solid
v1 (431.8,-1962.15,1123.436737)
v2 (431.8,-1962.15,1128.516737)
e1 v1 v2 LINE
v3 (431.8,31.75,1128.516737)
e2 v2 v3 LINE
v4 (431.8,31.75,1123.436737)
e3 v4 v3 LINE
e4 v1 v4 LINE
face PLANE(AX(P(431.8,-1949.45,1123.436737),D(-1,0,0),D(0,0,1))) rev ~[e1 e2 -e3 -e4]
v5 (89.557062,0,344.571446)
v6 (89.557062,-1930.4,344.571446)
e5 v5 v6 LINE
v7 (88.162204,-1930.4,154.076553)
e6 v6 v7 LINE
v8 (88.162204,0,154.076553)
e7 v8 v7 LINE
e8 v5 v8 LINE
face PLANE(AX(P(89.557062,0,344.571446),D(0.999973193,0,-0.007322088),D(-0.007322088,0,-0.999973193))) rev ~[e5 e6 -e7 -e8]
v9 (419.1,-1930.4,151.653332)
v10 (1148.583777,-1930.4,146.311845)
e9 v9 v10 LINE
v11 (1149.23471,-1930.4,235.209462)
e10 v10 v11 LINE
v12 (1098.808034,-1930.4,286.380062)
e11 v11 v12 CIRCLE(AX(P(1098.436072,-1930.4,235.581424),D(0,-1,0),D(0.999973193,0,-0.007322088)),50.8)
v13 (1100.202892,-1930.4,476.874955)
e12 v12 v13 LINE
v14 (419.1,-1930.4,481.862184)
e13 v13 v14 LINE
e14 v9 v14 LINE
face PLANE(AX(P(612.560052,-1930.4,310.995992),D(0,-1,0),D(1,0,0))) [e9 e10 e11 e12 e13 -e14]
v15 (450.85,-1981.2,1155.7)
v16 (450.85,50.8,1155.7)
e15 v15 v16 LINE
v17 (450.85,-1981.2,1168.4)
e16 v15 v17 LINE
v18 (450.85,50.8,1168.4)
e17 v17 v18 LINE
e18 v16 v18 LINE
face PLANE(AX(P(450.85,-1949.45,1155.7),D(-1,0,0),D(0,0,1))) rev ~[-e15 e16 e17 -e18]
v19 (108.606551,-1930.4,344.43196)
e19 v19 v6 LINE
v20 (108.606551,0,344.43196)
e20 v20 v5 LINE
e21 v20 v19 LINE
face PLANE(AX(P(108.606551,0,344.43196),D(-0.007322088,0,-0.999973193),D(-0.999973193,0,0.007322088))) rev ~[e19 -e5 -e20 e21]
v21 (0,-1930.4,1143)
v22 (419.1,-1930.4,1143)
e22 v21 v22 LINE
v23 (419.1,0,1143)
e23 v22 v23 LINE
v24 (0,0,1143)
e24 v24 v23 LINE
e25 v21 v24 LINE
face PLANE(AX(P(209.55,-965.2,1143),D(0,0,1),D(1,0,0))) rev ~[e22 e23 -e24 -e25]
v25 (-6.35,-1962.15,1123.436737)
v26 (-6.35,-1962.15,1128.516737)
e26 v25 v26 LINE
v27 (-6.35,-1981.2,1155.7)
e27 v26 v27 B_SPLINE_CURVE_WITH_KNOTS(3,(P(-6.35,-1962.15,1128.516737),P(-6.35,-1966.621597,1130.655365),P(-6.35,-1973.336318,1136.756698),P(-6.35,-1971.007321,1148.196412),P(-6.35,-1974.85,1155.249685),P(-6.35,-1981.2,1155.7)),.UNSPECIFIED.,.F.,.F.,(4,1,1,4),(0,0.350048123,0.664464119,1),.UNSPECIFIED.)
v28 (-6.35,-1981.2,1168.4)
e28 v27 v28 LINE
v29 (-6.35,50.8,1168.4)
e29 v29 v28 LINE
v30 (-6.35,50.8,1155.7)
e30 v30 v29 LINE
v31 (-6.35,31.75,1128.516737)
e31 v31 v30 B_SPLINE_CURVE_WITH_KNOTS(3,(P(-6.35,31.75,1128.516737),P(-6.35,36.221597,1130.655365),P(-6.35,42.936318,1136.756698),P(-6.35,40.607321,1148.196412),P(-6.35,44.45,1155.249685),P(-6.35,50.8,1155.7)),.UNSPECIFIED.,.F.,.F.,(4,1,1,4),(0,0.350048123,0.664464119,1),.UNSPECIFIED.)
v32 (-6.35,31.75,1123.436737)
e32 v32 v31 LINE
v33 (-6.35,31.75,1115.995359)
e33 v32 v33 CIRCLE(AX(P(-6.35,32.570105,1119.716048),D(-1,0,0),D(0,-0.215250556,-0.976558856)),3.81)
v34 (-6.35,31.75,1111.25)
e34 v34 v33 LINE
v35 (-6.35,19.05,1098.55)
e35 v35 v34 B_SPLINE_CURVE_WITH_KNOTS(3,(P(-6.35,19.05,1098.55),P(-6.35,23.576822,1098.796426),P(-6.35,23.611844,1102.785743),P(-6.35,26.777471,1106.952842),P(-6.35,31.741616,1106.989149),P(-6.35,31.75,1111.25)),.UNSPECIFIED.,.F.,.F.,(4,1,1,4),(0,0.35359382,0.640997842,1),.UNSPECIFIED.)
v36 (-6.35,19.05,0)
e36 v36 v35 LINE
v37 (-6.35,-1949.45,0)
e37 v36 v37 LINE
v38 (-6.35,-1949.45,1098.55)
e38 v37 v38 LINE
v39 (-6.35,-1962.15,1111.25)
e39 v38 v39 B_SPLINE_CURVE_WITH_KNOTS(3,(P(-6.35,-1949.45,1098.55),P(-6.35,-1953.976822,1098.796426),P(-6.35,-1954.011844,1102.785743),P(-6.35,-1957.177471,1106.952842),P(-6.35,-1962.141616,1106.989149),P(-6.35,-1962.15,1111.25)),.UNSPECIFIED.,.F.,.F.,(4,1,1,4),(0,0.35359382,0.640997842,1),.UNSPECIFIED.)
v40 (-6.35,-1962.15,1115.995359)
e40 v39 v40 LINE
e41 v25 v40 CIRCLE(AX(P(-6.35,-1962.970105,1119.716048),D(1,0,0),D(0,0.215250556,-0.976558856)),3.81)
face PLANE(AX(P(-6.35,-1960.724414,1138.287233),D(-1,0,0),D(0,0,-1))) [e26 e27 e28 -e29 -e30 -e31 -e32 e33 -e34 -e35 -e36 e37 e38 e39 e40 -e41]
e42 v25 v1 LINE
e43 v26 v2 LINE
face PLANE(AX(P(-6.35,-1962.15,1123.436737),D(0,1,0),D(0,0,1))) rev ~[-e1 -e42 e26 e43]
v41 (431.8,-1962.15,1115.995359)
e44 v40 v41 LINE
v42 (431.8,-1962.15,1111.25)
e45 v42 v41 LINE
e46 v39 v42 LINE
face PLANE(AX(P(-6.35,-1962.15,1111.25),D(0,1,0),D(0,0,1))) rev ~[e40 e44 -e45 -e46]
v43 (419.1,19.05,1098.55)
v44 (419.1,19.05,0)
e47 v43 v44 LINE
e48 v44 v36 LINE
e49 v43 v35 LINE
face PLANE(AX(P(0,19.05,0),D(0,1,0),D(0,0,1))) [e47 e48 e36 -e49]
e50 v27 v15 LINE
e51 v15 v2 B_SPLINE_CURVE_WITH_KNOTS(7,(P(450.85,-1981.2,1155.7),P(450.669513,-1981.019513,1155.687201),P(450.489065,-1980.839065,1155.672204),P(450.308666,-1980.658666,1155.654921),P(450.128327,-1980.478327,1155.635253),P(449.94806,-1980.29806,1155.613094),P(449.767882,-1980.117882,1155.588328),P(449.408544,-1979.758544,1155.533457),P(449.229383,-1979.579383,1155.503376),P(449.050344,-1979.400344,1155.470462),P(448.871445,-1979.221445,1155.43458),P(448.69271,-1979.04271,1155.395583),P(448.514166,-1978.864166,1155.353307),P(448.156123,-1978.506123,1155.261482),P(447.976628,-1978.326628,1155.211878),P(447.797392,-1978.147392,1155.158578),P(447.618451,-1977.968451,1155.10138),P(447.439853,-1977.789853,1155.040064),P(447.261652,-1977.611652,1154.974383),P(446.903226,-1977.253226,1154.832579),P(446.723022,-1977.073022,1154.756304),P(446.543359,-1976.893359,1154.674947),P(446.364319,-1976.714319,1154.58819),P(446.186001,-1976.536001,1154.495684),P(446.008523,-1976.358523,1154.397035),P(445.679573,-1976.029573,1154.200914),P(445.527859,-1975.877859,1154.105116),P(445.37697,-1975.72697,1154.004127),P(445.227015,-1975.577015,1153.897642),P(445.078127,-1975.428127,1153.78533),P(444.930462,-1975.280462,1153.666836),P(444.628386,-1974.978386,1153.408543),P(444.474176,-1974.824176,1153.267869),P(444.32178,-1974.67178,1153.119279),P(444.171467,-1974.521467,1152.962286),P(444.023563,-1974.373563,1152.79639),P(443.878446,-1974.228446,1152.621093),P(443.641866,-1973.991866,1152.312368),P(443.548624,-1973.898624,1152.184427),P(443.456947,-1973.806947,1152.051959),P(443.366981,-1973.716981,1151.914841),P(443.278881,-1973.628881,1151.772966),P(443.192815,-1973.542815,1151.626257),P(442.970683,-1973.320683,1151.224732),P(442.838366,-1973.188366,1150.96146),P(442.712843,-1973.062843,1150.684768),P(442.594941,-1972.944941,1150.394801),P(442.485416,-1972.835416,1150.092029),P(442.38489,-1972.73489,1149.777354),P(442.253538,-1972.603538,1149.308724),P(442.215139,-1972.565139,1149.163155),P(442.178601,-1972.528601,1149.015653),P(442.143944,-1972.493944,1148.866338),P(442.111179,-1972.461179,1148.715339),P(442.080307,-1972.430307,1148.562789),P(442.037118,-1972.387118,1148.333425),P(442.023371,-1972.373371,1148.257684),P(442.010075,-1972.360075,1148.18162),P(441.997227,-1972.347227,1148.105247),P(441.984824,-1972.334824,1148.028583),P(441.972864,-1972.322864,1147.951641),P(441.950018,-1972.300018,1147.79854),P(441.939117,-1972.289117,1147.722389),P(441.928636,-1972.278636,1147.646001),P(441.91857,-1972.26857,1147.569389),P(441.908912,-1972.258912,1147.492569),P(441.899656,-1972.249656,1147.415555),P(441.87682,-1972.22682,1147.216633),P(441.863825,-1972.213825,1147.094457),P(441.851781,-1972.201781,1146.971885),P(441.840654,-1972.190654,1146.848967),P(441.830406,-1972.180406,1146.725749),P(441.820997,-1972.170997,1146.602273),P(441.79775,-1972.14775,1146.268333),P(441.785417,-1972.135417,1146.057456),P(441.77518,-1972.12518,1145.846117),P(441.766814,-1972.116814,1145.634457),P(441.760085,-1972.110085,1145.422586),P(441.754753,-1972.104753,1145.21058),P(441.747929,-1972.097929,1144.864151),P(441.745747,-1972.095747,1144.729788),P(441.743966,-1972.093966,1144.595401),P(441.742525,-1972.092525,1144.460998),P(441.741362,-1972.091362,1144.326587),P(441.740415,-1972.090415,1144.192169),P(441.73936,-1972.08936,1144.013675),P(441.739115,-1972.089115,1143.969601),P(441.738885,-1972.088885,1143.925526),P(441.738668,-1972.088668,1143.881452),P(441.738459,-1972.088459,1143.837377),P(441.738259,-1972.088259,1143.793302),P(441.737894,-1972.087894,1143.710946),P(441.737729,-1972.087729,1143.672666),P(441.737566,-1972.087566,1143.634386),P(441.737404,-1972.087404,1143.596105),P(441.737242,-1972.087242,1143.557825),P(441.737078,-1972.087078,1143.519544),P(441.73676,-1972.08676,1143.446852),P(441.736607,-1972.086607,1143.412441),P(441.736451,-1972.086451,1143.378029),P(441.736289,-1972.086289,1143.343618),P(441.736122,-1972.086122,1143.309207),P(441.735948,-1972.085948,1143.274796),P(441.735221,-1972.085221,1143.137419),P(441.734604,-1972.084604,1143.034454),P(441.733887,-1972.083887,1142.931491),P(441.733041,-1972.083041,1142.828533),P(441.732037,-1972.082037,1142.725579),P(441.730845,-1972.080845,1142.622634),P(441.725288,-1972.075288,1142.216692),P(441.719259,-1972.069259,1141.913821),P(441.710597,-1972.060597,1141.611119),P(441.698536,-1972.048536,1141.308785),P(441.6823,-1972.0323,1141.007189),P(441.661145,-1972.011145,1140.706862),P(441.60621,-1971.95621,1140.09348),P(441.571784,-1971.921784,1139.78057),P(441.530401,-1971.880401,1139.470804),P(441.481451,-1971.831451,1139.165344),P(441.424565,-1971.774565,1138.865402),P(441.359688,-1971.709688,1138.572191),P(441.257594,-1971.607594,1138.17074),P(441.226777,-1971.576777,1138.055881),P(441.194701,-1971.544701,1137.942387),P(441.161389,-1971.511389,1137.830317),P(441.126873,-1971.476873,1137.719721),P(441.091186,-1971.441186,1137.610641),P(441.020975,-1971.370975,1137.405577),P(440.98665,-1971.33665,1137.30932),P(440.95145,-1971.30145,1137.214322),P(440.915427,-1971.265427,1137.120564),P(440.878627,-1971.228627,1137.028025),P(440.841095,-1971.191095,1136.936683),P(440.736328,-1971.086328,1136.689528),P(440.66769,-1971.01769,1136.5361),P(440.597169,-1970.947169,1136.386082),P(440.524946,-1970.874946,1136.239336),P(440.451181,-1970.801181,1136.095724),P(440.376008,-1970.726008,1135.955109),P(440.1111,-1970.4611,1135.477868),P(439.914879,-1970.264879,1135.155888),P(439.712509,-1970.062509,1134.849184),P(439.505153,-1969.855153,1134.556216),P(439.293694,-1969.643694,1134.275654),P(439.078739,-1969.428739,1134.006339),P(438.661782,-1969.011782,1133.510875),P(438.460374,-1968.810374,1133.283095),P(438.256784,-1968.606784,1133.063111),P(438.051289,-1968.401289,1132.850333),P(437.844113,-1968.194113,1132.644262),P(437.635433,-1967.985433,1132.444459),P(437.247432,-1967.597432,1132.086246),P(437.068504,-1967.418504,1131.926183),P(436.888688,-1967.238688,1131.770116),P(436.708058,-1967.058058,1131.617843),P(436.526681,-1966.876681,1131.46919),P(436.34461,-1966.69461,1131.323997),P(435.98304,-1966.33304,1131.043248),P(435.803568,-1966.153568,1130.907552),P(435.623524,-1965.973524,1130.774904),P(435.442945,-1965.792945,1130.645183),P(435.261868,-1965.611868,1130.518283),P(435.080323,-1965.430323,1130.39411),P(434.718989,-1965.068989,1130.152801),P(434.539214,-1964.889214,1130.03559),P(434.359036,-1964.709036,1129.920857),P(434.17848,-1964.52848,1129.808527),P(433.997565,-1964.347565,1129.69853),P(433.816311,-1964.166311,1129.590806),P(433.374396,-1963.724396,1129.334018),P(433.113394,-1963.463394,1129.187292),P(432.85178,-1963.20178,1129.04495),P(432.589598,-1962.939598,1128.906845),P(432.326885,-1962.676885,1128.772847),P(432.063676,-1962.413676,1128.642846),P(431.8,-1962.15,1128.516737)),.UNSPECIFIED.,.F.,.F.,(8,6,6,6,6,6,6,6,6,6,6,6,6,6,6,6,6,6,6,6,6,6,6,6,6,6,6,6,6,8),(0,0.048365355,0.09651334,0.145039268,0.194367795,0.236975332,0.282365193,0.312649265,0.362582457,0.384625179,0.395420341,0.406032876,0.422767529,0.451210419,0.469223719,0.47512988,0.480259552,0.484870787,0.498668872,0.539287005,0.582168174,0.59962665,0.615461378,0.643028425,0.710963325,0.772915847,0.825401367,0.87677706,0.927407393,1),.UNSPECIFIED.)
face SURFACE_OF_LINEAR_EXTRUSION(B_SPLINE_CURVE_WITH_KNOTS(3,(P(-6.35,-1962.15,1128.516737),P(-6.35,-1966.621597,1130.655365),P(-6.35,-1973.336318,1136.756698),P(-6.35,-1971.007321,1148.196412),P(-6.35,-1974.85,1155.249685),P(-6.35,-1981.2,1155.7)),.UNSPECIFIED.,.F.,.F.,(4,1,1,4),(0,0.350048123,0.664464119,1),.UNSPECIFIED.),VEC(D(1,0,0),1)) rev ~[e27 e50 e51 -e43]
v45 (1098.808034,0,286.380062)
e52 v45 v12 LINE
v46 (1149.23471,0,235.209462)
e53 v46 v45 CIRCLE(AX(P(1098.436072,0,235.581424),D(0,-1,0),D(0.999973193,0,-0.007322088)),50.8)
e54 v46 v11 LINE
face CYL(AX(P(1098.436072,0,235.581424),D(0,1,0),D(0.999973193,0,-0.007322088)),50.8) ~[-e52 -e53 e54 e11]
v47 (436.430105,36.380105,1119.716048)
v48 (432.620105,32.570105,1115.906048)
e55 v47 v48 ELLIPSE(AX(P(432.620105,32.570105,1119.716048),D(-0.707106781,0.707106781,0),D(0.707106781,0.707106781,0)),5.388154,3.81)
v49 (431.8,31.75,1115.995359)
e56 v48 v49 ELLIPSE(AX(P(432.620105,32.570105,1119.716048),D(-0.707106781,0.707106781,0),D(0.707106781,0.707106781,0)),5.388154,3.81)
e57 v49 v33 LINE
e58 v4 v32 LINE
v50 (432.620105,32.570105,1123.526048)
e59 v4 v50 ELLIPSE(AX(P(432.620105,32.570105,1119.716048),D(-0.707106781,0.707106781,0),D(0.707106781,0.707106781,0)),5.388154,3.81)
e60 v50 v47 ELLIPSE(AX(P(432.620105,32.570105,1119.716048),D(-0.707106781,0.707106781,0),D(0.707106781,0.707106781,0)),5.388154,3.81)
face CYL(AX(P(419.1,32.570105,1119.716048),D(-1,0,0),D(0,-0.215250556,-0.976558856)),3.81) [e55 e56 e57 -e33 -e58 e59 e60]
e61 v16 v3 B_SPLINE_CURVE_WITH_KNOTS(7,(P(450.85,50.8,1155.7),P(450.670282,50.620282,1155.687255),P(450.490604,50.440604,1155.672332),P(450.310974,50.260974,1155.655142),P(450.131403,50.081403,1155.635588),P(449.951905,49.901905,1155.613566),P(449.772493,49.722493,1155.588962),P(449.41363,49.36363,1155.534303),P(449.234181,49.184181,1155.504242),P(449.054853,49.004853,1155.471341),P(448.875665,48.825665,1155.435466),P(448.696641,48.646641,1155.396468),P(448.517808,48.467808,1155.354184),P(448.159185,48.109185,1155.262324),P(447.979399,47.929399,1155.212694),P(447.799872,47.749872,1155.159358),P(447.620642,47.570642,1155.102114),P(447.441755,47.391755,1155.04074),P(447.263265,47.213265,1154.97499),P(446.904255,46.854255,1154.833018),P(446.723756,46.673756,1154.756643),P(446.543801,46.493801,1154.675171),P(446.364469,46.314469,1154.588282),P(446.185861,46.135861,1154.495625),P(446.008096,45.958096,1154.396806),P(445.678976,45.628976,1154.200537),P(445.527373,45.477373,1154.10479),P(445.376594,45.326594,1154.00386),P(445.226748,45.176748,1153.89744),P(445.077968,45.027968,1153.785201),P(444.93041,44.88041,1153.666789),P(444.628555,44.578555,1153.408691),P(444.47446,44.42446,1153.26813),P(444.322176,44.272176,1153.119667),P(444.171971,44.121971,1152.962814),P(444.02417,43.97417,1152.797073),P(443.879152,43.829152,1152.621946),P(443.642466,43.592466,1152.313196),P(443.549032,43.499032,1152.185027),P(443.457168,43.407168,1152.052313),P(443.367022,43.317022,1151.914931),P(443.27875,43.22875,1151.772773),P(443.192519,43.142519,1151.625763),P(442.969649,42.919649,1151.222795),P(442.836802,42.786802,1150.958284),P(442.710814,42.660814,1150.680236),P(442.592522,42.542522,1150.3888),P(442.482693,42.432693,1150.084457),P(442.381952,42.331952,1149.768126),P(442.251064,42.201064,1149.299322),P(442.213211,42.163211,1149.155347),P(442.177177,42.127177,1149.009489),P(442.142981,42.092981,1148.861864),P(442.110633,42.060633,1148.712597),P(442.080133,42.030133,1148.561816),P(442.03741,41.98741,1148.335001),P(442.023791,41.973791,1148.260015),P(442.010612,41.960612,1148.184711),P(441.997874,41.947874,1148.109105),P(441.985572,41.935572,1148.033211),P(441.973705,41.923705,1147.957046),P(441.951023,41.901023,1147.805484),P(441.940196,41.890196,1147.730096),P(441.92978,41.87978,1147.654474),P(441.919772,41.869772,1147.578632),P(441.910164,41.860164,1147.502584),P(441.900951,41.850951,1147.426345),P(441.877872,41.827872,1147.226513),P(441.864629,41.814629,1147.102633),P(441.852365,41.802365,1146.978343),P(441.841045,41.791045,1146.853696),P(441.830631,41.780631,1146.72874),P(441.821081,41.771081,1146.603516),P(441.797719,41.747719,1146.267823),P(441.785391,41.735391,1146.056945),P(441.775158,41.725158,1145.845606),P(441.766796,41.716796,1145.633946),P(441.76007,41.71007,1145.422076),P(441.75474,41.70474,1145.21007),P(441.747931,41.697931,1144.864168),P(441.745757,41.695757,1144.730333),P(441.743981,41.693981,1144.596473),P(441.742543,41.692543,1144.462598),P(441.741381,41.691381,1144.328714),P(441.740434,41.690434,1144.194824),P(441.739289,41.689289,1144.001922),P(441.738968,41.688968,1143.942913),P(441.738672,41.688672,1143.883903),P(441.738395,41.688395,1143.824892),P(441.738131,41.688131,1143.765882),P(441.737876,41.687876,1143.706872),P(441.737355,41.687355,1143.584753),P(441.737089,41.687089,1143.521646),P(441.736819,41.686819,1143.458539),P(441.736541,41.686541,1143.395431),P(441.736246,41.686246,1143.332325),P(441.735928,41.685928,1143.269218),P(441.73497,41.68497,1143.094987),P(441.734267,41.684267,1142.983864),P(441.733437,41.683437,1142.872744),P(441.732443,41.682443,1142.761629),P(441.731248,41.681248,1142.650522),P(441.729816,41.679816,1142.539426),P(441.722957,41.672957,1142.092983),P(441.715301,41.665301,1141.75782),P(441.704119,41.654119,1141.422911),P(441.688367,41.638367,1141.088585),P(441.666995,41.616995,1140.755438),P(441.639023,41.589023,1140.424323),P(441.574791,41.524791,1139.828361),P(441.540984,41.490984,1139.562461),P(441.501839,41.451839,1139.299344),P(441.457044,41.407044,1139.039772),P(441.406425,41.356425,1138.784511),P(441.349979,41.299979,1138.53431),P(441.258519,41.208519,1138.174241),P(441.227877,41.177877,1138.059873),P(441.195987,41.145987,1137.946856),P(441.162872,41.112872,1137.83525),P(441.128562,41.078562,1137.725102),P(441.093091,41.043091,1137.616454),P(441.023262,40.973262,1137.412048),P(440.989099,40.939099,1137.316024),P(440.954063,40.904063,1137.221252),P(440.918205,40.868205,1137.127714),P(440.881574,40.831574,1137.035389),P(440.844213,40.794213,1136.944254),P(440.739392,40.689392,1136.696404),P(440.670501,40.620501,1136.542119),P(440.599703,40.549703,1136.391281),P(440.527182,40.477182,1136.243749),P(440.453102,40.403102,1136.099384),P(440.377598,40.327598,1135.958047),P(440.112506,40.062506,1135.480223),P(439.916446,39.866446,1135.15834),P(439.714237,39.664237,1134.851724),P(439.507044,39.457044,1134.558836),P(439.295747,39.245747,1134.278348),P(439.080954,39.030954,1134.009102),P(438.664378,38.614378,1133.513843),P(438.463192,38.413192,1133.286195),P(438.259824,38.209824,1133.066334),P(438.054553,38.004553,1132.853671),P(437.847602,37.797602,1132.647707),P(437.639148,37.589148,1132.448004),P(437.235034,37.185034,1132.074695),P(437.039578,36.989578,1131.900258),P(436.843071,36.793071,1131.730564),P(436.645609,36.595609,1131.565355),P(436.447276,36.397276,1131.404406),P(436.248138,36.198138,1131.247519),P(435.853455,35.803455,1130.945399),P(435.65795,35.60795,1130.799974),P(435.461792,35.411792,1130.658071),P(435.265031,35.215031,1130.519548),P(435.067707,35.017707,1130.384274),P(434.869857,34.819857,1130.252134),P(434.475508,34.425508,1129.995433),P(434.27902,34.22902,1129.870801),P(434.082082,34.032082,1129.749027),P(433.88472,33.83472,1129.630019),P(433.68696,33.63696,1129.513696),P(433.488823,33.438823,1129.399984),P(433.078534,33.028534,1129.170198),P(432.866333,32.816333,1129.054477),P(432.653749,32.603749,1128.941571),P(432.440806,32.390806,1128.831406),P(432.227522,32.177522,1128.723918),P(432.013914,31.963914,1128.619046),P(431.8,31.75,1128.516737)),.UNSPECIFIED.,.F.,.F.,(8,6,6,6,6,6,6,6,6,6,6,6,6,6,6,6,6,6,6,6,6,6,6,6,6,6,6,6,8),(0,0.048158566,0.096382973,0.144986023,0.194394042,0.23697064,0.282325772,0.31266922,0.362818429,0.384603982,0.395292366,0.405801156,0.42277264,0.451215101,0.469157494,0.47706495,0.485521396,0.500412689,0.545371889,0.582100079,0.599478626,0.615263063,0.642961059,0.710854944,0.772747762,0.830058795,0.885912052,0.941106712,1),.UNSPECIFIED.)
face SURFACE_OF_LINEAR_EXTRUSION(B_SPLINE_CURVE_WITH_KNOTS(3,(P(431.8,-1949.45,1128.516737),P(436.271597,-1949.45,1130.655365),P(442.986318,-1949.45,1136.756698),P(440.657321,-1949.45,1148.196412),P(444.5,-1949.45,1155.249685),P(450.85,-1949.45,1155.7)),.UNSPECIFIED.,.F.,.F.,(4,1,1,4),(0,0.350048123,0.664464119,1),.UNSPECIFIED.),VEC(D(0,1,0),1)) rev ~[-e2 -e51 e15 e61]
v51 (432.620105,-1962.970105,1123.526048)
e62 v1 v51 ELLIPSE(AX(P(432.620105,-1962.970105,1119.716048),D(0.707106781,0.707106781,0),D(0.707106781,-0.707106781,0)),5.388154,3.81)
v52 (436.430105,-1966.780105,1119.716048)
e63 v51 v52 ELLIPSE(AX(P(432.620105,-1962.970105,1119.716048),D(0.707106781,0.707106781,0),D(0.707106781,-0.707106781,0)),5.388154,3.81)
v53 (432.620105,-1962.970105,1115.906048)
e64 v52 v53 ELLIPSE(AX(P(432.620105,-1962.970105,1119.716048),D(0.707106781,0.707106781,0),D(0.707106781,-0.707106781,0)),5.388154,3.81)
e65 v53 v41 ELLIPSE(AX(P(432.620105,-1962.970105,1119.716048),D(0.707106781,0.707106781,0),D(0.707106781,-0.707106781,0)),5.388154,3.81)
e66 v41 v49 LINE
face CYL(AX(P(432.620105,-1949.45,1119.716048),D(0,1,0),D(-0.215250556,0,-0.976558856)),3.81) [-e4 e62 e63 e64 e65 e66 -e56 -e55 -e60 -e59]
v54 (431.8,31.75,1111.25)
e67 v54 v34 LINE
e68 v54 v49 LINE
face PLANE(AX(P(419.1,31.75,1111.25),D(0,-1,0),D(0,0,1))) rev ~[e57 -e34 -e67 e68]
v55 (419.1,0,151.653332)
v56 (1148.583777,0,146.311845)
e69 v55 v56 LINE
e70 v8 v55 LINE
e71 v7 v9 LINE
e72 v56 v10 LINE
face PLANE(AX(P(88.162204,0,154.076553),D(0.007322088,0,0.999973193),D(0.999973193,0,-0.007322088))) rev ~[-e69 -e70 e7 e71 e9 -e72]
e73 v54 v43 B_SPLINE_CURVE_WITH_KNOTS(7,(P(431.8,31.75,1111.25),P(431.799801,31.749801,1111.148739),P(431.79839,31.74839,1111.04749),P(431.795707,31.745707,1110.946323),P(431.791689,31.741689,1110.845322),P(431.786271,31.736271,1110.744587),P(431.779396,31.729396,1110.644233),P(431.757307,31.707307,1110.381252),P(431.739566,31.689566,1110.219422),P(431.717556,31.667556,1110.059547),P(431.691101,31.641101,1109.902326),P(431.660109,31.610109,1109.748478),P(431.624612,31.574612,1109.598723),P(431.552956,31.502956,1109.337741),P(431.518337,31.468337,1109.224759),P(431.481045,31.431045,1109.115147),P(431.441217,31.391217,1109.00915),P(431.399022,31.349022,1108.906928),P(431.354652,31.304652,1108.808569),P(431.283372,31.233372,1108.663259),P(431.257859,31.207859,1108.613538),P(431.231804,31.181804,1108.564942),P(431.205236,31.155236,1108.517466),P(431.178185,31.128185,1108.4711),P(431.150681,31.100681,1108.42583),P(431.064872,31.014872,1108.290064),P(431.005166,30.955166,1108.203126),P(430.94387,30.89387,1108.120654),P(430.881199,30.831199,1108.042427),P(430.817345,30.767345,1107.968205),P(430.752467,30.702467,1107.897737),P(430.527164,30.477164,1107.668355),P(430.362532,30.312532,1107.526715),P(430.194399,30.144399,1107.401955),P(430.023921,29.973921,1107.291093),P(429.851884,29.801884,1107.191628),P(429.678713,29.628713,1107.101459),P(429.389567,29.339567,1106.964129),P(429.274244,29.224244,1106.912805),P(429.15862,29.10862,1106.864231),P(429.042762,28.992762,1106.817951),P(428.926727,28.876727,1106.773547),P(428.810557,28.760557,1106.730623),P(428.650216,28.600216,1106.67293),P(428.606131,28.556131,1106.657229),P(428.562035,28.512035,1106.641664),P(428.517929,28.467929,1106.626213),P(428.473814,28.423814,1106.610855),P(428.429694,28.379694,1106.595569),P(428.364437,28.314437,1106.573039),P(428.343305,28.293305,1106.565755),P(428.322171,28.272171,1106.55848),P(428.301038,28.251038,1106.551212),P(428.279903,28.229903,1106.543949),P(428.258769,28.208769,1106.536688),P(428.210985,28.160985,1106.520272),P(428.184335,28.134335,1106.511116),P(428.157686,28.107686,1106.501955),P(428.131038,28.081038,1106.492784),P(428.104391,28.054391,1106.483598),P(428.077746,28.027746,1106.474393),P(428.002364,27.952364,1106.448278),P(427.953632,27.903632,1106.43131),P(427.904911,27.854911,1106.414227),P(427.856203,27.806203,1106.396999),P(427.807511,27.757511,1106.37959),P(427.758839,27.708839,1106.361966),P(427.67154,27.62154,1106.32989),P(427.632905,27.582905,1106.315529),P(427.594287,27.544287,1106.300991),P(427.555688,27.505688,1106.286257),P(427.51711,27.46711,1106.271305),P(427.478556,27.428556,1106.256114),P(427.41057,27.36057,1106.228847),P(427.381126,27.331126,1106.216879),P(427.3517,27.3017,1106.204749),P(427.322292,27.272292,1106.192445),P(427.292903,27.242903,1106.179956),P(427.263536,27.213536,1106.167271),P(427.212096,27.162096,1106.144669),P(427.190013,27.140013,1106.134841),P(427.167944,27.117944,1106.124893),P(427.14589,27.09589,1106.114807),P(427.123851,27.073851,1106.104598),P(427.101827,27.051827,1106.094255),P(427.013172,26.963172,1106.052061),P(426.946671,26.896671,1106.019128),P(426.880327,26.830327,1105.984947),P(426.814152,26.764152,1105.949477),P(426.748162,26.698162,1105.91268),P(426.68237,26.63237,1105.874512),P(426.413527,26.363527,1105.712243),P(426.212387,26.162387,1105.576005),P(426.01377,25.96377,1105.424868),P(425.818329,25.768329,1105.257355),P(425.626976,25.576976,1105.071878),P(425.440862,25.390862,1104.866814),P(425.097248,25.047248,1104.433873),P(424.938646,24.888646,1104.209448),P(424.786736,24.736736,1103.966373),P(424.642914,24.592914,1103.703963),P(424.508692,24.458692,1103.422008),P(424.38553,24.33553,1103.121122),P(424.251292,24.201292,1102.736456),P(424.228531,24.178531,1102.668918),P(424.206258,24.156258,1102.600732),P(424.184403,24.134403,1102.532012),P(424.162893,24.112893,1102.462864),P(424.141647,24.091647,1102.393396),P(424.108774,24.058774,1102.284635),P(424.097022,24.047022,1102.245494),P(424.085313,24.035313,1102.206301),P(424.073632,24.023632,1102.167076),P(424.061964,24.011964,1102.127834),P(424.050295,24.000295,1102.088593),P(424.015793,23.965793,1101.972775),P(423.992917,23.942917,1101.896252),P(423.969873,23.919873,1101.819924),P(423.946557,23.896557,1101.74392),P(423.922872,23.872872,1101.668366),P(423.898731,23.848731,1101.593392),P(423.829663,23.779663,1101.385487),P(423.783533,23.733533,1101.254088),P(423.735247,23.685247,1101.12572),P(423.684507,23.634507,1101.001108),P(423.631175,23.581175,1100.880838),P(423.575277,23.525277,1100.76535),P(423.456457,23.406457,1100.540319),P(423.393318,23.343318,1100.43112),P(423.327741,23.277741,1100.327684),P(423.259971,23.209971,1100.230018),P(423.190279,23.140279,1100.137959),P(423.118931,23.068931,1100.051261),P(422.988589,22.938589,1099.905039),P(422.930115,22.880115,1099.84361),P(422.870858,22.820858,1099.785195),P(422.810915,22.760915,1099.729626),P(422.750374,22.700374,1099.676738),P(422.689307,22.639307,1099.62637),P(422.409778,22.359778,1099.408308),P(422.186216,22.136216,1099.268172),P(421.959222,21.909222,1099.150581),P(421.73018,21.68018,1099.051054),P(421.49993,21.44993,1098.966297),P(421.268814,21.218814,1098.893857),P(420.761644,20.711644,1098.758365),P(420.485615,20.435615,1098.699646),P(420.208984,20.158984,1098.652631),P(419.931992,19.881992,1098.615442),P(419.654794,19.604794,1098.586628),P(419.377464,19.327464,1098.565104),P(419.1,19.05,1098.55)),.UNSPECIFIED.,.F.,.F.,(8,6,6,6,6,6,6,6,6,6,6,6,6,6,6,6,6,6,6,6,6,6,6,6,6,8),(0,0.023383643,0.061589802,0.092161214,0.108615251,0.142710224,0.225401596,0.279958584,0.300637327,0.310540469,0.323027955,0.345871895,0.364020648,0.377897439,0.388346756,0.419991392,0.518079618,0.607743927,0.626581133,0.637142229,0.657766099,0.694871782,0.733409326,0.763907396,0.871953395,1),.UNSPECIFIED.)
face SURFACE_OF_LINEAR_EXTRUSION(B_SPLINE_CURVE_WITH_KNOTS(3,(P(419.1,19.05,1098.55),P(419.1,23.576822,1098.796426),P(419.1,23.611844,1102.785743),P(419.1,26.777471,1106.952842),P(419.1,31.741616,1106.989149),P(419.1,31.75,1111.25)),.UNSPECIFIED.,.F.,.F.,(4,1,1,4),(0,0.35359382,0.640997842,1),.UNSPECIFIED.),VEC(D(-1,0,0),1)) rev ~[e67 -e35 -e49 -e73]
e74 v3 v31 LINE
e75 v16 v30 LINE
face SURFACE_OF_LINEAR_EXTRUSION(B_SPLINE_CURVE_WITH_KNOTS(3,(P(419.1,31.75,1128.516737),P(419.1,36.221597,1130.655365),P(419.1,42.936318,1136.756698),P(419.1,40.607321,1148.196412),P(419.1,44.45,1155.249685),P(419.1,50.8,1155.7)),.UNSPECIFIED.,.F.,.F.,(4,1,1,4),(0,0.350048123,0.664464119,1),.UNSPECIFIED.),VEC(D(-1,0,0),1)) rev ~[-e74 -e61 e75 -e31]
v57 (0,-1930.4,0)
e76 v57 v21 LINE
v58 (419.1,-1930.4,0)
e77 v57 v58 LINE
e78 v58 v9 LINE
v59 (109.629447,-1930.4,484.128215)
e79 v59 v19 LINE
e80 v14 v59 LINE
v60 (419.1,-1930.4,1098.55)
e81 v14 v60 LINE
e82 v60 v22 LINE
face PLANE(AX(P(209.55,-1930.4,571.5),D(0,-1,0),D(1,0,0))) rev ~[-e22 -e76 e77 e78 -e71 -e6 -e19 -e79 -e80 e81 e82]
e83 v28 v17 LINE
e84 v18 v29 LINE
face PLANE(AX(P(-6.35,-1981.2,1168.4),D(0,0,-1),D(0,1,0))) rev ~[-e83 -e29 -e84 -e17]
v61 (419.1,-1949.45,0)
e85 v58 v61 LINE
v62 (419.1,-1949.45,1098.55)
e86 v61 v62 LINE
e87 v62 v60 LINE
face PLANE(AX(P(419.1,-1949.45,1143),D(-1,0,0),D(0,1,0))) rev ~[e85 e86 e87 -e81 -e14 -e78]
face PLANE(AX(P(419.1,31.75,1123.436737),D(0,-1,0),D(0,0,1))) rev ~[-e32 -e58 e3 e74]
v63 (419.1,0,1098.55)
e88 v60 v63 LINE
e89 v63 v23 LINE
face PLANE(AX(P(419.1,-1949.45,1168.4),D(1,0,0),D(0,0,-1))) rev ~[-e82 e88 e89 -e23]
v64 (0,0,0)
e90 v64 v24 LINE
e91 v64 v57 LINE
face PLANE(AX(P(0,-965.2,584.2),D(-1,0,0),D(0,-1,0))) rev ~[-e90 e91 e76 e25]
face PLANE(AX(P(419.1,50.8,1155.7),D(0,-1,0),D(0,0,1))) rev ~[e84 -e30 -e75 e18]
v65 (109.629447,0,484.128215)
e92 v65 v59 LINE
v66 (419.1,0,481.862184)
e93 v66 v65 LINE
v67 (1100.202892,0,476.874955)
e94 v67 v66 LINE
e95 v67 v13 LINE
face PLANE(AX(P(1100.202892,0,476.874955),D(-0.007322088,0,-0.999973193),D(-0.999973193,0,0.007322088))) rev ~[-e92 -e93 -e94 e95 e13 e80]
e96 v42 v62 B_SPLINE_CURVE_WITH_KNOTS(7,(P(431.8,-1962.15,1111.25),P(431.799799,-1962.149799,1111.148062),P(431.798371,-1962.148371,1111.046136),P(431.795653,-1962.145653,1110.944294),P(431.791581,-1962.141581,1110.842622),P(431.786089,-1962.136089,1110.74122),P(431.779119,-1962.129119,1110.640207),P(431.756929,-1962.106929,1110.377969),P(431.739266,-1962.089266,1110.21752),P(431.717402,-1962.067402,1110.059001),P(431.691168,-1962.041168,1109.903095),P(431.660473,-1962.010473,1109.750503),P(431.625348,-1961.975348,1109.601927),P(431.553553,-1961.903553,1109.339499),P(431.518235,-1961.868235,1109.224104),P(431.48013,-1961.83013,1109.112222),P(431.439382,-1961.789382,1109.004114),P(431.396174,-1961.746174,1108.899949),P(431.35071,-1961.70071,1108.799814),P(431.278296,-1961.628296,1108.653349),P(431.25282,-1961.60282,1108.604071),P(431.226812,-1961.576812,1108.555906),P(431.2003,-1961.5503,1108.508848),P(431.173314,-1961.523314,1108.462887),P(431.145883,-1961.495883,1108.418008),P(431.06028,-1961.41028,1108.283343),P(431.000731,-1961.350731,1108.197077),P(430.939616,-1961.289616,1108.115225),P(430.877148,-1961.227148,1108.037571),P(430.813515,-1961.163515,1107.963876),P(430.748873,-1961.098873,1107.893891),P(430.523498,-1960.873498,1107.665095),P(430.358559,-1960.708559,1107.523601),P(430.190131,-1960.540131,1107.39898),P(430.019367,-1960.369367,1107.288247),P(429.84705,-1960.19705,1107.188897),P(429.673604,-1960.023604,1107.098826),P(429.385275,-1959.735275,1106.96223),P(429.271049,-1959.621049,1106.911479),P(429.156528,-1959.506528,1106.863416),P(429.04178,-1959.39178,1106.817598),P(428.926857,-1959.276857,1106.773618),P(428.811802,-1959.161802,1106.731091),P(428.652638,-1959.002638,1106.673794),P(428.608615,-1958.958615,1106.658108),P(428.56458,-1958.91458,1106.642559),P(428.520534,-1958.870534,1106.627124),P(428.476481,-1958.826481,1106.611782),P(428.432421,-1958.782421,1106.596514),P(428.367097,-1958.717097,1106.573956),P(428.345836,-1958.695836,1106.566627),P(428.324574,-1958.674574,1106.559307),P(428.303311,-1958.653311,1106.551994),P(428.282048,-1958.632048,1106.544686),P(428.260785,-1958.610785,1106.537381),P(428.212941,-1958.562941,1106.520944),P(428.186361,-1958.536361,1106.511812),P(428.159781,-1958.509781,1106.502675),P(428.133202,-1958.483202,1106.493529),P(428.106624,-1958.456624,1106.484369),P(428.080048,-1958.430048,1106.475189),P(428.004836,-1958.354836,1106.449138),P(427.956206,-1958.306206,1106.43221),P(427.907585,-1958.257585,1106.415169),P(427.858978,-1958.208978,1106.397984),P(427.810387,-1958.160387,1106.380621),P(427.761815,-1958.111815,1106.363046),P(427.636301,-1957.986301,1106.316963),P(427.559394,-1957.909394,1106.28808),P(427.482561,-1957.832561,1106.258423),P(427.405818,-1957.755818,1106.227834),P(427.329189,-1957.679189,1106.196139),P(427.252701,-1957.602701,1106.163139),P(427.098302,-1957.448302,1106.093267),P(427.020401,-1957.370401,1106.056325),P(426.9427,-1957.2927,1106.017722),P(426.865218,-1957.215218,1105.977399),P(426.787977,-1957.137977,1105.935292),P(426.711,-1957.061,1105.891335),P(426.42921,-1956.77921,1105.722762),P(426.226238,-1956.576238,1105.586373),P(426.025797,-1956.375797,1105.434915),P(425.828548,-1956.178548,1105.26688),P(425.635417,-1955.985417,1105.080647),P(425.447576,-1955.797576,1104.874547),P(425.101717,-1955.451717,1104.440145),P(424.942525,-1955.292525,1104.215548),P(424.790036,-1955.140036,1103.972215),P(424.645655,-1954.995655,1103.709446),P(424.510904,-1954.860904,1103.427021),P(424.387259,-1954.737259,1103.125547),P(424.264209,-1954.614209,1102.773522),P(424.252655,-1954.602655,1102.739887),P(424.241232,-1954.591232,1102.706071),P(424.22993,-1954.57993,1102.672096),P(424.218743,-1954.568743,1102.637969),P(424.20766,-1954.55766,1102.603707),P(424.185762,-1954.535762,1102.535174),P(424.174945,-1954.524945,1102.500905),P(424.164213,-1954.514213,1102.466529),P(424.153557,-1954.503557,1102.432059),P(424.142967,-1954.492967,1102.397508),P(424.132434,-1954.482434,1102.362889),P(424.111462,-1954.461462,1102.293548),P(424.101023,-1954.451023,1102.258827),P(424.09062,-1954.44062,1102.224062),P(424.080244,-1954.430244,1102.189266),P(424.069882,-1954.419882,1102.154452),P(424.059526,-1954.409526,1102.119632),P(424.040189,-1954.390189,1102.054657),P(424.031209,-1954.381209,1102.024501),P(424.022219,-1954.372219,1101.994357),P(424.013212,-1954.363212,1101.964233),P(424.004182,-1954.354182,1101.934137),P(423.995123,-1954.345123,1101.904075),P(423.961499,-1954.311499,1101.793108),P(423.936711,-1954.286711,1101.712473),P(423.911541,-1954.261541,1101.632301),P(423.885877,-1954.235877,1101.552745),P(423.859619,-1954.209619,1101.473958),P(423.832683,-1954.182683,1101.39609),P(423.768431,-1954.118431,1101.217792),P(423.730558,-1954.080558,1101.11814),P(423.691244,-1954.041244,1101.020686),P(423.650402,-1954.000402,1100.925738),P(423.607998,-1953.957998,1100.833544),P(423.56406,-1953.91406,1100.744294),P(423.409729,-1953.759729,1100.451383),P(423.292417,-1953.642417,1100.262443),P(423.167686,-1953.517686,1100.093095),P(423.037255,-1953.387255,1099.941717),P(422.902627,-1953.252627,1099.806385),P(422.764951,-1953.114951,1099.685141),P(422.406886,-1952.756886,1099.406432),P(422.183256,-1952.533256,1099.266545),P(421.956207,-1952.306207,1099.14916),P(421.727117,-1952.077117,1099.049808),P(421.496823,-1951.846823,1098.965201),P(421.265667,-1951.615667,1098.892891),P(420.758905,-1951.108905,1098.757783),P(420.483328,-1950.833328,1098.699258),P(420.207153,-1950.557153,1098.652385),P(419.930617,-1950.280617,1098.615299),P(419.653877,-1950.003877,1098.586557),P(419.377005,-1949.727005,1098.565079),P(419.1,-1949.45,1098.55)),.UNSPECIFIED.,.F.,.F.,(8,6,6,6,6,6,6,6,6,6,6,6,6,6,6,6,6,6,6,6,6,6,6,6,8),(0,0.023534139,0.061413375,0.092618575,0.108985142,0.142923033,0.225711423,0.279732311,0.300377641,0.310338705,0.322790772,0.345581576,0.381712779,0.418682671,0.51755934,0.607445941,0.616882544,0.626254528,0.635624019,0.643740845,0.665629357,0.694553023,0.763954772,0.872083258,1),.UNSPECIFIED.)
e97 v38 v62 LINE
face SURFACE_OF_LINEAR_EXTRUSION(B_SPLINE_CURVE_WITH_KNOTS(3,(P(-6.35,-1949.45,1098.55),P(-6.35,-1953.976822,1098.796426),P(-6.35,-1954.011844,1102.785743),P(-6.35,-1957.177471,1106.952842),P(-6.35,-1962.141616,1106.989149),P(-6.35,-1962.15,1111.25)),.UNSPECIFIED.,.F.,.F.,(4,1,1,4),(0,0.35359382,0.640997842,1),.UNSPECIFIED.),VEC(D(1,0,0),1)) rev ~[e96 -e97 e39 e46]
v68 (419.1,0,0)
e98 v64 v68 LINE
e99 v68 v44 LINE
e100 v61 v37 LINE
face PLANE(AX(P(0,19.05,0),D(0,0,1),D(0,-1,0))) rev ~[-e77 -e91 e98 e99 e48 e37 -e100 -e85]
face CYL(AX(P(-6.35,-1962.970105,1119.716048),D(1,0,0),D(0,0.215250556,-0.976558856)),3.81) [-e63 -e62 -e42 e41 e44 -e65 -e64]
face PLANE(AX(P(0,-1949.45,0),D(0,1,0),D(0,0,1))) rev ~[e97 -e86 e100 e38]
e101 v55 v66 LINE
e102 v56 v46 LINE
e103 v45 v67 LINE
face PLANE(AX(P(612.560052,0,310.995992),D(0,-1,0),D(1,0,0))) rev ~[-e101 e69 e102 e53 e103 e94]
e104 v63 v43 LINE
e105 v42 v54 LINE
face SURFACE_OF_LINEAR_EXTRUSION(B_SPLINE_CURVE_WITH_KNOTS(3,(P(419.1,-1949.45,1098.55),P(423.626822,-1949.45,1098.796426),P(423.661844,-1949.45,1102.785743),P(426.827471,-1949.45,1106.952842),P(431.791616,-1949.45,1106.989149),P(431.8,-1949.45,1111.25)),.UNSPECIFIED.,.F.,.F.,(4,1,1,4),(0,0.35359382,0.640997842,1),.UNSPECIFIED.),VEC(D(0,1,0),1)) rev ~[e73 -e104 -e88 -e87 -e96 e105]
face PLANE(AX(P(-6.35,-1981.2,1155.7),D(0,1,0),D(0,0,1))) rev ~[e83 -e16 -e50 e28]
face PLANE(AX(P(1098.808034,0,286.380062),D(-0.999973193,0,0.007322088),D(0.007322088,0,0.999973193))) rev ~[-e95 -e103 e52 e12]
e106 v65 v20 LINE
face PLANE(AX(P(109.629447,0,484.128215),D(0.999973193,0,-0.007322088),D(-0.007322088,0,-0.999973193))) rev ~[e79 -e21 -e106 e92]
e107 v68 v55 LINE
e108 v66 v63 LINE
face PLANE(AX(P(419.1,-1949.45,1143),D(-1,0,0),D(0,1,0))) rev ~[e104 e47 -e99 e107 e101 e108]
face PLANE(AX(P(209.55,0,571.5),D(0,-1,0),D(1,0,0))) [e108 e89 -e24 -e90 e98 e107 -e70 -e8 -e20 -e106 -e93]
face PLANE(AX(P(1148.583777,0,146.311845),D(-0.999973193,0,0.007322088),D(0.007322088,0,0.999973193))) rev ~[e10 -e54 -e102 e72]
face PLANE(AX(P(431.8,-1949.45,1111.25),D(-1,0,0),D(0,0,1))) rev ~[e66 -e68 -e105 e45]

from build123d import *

# Parameters (mm, degrees)
F2_DEPTH = 1930.4
F0_W     = 419.1
F0_H     = 1143
F3_DEPTH = 19.05
F4_W     = 419.1
F4_H     = 1143
F5_DEPTH = 19.05
F6_W     = 419.1
F6_H     = 1968.5
F7_DEPTH = 25.4
F8_W     = 1968.5
F8_H     = 1168.4
F9_DEPTH = 6.35


with BuildPart() as f2:
    # F1 (on face) → F2 (new body)
    with BuildSketch(Plane.XZ):
        with BuildLine():
            Line((108.6065509819, 344.4319603753), (89.5570616523, 344.5714461484))
            Line((89.5570616523, 344.5714461484), (88.1622039216, 154.0765528523))
            Line((88.1622039216, 154.0765528523), (1148.5837766035, 146.3118448179))
            Line((1148.5837766035, 146.3118448179), (1149.2347102111, 235.2094616894))
            ThreePointArc((1149.2347102111, 235.2094616894), (1134.6191504498, 271.2384684099), (1098.8080340604, 286.3800619632))
            Line((1098.8080340604, 286.3800619633), (1100.2028917911, 476.8749552594))
            Line((1100.2028917911, 476.8749552594), (109.6294466511, 484.1282154592))
            Line((109.6294466511, 484.1282154592), (108.6065509819, 344.4319603753))
        make_face()
    extrude(amount=F2_DEPTH)

    # F0 (on Front) → F3 (join)
    with BuildSketch(Plane.XZ):
        with Locations((209.55, 571.5)):
            Rectangle(F0_W, F0_H)
    extrude(amount=-F3_DEPTH)

    # F4 (on face) → F5 (join)
    with BuildSketch(Plane.XZ.offset(1930.4)):
        with Locations((209.55, 571.5)):
            Rectangle(F4_W, F4_H)
    extrude(amount=F5_DEPTH)

    # F6 (on face) → F7 (join)
    with BuildSketch(Plane.XY.offset(1143)):
        with Locations((209.55, -965.2)):
            Rectangle(F6_W, F6_H)
    extrude(amount=F7_DEPTH)

    # F8 (on face) → F9 (join)
    with BuildSketch(Plane(origin=(0, 0, 0), x_dir=(0, -1, 0), z_dir=(-1, 0, 0))):
        with Locations((965.2, 584.2)):
            Rectangle(F8_W, F8_H)
    extrude(amount=F9_DEPTH)

    # F11: sweep along a path in F11_path
    with BuildLine(Plane(origin=(-6.35, -1949.45, 1168.4), x_dir=(0, -1, 0), z_dir=(0, 0, -1))) as f11_path:
        Line((0, 0), (0, -425.45))
        Line((0, -425.45), (-1968.5, -425.45))
        Line((-1968.5, -425.45), (-1968.5, 0))
    # F10 (on face) → F11 (sweep)
    with BuildSketch(Plane(origin=(-6.35, 0, 0), x_dir=(0, -1, 0), z_dir=(-1, 0, 0))):
        with BuildLine():
            Line((1981.2, 1168.4), (1949.45, 1168.4))
            Line((1949.45, 1168.4), (1949.45, 1098.55))
            add(Edge.make_bspline(
                [(1962.15, 1111.25), (1962.1416161237, 1106.9891487415), (1957.1774713092, 1106.9528415694), (1954.0118440023, 1102.7857432431), (1953.9768222515, 1098.7964263007), (1949.45, 1098.55)],
                knots=[0, 0, 0, 0, 0.3590021576, 0.6464061804, 1, 1, 1, 1], degree=3))
            Line((1962.15, 1111.25), (1962.15, 1115.9953590012))
            ThreePointArc((1962.15, 1115.9953590012), (1966.7801046171, 1119.7160482407), (1962.15, 1123.4367374802))
            Line((1962.15, 1123.4367374802), (1962.15, 1128.5167374802))
            add(Edge.make_bspline(
                [(1981.2, 1155.7), (1974.85, 1155.2496847948), (1971.007321351, 1148.1964123857), (1973.3363183206, 1136.7566982676), (1966.6215965457, 1130.655364811), (1962.15, 1128.5167374802)],
                knots=[0, 0, 0, 0, 0.3355358805, 0.6499518775, 1, 1, 1, 1], degree=3))
            Line((1981.2, 1155.7), (1981.2, 1168.4))
        make_face()
    sweep(path=f11_path.line, transition=Transition.RIGHT)


solid = f2.part
